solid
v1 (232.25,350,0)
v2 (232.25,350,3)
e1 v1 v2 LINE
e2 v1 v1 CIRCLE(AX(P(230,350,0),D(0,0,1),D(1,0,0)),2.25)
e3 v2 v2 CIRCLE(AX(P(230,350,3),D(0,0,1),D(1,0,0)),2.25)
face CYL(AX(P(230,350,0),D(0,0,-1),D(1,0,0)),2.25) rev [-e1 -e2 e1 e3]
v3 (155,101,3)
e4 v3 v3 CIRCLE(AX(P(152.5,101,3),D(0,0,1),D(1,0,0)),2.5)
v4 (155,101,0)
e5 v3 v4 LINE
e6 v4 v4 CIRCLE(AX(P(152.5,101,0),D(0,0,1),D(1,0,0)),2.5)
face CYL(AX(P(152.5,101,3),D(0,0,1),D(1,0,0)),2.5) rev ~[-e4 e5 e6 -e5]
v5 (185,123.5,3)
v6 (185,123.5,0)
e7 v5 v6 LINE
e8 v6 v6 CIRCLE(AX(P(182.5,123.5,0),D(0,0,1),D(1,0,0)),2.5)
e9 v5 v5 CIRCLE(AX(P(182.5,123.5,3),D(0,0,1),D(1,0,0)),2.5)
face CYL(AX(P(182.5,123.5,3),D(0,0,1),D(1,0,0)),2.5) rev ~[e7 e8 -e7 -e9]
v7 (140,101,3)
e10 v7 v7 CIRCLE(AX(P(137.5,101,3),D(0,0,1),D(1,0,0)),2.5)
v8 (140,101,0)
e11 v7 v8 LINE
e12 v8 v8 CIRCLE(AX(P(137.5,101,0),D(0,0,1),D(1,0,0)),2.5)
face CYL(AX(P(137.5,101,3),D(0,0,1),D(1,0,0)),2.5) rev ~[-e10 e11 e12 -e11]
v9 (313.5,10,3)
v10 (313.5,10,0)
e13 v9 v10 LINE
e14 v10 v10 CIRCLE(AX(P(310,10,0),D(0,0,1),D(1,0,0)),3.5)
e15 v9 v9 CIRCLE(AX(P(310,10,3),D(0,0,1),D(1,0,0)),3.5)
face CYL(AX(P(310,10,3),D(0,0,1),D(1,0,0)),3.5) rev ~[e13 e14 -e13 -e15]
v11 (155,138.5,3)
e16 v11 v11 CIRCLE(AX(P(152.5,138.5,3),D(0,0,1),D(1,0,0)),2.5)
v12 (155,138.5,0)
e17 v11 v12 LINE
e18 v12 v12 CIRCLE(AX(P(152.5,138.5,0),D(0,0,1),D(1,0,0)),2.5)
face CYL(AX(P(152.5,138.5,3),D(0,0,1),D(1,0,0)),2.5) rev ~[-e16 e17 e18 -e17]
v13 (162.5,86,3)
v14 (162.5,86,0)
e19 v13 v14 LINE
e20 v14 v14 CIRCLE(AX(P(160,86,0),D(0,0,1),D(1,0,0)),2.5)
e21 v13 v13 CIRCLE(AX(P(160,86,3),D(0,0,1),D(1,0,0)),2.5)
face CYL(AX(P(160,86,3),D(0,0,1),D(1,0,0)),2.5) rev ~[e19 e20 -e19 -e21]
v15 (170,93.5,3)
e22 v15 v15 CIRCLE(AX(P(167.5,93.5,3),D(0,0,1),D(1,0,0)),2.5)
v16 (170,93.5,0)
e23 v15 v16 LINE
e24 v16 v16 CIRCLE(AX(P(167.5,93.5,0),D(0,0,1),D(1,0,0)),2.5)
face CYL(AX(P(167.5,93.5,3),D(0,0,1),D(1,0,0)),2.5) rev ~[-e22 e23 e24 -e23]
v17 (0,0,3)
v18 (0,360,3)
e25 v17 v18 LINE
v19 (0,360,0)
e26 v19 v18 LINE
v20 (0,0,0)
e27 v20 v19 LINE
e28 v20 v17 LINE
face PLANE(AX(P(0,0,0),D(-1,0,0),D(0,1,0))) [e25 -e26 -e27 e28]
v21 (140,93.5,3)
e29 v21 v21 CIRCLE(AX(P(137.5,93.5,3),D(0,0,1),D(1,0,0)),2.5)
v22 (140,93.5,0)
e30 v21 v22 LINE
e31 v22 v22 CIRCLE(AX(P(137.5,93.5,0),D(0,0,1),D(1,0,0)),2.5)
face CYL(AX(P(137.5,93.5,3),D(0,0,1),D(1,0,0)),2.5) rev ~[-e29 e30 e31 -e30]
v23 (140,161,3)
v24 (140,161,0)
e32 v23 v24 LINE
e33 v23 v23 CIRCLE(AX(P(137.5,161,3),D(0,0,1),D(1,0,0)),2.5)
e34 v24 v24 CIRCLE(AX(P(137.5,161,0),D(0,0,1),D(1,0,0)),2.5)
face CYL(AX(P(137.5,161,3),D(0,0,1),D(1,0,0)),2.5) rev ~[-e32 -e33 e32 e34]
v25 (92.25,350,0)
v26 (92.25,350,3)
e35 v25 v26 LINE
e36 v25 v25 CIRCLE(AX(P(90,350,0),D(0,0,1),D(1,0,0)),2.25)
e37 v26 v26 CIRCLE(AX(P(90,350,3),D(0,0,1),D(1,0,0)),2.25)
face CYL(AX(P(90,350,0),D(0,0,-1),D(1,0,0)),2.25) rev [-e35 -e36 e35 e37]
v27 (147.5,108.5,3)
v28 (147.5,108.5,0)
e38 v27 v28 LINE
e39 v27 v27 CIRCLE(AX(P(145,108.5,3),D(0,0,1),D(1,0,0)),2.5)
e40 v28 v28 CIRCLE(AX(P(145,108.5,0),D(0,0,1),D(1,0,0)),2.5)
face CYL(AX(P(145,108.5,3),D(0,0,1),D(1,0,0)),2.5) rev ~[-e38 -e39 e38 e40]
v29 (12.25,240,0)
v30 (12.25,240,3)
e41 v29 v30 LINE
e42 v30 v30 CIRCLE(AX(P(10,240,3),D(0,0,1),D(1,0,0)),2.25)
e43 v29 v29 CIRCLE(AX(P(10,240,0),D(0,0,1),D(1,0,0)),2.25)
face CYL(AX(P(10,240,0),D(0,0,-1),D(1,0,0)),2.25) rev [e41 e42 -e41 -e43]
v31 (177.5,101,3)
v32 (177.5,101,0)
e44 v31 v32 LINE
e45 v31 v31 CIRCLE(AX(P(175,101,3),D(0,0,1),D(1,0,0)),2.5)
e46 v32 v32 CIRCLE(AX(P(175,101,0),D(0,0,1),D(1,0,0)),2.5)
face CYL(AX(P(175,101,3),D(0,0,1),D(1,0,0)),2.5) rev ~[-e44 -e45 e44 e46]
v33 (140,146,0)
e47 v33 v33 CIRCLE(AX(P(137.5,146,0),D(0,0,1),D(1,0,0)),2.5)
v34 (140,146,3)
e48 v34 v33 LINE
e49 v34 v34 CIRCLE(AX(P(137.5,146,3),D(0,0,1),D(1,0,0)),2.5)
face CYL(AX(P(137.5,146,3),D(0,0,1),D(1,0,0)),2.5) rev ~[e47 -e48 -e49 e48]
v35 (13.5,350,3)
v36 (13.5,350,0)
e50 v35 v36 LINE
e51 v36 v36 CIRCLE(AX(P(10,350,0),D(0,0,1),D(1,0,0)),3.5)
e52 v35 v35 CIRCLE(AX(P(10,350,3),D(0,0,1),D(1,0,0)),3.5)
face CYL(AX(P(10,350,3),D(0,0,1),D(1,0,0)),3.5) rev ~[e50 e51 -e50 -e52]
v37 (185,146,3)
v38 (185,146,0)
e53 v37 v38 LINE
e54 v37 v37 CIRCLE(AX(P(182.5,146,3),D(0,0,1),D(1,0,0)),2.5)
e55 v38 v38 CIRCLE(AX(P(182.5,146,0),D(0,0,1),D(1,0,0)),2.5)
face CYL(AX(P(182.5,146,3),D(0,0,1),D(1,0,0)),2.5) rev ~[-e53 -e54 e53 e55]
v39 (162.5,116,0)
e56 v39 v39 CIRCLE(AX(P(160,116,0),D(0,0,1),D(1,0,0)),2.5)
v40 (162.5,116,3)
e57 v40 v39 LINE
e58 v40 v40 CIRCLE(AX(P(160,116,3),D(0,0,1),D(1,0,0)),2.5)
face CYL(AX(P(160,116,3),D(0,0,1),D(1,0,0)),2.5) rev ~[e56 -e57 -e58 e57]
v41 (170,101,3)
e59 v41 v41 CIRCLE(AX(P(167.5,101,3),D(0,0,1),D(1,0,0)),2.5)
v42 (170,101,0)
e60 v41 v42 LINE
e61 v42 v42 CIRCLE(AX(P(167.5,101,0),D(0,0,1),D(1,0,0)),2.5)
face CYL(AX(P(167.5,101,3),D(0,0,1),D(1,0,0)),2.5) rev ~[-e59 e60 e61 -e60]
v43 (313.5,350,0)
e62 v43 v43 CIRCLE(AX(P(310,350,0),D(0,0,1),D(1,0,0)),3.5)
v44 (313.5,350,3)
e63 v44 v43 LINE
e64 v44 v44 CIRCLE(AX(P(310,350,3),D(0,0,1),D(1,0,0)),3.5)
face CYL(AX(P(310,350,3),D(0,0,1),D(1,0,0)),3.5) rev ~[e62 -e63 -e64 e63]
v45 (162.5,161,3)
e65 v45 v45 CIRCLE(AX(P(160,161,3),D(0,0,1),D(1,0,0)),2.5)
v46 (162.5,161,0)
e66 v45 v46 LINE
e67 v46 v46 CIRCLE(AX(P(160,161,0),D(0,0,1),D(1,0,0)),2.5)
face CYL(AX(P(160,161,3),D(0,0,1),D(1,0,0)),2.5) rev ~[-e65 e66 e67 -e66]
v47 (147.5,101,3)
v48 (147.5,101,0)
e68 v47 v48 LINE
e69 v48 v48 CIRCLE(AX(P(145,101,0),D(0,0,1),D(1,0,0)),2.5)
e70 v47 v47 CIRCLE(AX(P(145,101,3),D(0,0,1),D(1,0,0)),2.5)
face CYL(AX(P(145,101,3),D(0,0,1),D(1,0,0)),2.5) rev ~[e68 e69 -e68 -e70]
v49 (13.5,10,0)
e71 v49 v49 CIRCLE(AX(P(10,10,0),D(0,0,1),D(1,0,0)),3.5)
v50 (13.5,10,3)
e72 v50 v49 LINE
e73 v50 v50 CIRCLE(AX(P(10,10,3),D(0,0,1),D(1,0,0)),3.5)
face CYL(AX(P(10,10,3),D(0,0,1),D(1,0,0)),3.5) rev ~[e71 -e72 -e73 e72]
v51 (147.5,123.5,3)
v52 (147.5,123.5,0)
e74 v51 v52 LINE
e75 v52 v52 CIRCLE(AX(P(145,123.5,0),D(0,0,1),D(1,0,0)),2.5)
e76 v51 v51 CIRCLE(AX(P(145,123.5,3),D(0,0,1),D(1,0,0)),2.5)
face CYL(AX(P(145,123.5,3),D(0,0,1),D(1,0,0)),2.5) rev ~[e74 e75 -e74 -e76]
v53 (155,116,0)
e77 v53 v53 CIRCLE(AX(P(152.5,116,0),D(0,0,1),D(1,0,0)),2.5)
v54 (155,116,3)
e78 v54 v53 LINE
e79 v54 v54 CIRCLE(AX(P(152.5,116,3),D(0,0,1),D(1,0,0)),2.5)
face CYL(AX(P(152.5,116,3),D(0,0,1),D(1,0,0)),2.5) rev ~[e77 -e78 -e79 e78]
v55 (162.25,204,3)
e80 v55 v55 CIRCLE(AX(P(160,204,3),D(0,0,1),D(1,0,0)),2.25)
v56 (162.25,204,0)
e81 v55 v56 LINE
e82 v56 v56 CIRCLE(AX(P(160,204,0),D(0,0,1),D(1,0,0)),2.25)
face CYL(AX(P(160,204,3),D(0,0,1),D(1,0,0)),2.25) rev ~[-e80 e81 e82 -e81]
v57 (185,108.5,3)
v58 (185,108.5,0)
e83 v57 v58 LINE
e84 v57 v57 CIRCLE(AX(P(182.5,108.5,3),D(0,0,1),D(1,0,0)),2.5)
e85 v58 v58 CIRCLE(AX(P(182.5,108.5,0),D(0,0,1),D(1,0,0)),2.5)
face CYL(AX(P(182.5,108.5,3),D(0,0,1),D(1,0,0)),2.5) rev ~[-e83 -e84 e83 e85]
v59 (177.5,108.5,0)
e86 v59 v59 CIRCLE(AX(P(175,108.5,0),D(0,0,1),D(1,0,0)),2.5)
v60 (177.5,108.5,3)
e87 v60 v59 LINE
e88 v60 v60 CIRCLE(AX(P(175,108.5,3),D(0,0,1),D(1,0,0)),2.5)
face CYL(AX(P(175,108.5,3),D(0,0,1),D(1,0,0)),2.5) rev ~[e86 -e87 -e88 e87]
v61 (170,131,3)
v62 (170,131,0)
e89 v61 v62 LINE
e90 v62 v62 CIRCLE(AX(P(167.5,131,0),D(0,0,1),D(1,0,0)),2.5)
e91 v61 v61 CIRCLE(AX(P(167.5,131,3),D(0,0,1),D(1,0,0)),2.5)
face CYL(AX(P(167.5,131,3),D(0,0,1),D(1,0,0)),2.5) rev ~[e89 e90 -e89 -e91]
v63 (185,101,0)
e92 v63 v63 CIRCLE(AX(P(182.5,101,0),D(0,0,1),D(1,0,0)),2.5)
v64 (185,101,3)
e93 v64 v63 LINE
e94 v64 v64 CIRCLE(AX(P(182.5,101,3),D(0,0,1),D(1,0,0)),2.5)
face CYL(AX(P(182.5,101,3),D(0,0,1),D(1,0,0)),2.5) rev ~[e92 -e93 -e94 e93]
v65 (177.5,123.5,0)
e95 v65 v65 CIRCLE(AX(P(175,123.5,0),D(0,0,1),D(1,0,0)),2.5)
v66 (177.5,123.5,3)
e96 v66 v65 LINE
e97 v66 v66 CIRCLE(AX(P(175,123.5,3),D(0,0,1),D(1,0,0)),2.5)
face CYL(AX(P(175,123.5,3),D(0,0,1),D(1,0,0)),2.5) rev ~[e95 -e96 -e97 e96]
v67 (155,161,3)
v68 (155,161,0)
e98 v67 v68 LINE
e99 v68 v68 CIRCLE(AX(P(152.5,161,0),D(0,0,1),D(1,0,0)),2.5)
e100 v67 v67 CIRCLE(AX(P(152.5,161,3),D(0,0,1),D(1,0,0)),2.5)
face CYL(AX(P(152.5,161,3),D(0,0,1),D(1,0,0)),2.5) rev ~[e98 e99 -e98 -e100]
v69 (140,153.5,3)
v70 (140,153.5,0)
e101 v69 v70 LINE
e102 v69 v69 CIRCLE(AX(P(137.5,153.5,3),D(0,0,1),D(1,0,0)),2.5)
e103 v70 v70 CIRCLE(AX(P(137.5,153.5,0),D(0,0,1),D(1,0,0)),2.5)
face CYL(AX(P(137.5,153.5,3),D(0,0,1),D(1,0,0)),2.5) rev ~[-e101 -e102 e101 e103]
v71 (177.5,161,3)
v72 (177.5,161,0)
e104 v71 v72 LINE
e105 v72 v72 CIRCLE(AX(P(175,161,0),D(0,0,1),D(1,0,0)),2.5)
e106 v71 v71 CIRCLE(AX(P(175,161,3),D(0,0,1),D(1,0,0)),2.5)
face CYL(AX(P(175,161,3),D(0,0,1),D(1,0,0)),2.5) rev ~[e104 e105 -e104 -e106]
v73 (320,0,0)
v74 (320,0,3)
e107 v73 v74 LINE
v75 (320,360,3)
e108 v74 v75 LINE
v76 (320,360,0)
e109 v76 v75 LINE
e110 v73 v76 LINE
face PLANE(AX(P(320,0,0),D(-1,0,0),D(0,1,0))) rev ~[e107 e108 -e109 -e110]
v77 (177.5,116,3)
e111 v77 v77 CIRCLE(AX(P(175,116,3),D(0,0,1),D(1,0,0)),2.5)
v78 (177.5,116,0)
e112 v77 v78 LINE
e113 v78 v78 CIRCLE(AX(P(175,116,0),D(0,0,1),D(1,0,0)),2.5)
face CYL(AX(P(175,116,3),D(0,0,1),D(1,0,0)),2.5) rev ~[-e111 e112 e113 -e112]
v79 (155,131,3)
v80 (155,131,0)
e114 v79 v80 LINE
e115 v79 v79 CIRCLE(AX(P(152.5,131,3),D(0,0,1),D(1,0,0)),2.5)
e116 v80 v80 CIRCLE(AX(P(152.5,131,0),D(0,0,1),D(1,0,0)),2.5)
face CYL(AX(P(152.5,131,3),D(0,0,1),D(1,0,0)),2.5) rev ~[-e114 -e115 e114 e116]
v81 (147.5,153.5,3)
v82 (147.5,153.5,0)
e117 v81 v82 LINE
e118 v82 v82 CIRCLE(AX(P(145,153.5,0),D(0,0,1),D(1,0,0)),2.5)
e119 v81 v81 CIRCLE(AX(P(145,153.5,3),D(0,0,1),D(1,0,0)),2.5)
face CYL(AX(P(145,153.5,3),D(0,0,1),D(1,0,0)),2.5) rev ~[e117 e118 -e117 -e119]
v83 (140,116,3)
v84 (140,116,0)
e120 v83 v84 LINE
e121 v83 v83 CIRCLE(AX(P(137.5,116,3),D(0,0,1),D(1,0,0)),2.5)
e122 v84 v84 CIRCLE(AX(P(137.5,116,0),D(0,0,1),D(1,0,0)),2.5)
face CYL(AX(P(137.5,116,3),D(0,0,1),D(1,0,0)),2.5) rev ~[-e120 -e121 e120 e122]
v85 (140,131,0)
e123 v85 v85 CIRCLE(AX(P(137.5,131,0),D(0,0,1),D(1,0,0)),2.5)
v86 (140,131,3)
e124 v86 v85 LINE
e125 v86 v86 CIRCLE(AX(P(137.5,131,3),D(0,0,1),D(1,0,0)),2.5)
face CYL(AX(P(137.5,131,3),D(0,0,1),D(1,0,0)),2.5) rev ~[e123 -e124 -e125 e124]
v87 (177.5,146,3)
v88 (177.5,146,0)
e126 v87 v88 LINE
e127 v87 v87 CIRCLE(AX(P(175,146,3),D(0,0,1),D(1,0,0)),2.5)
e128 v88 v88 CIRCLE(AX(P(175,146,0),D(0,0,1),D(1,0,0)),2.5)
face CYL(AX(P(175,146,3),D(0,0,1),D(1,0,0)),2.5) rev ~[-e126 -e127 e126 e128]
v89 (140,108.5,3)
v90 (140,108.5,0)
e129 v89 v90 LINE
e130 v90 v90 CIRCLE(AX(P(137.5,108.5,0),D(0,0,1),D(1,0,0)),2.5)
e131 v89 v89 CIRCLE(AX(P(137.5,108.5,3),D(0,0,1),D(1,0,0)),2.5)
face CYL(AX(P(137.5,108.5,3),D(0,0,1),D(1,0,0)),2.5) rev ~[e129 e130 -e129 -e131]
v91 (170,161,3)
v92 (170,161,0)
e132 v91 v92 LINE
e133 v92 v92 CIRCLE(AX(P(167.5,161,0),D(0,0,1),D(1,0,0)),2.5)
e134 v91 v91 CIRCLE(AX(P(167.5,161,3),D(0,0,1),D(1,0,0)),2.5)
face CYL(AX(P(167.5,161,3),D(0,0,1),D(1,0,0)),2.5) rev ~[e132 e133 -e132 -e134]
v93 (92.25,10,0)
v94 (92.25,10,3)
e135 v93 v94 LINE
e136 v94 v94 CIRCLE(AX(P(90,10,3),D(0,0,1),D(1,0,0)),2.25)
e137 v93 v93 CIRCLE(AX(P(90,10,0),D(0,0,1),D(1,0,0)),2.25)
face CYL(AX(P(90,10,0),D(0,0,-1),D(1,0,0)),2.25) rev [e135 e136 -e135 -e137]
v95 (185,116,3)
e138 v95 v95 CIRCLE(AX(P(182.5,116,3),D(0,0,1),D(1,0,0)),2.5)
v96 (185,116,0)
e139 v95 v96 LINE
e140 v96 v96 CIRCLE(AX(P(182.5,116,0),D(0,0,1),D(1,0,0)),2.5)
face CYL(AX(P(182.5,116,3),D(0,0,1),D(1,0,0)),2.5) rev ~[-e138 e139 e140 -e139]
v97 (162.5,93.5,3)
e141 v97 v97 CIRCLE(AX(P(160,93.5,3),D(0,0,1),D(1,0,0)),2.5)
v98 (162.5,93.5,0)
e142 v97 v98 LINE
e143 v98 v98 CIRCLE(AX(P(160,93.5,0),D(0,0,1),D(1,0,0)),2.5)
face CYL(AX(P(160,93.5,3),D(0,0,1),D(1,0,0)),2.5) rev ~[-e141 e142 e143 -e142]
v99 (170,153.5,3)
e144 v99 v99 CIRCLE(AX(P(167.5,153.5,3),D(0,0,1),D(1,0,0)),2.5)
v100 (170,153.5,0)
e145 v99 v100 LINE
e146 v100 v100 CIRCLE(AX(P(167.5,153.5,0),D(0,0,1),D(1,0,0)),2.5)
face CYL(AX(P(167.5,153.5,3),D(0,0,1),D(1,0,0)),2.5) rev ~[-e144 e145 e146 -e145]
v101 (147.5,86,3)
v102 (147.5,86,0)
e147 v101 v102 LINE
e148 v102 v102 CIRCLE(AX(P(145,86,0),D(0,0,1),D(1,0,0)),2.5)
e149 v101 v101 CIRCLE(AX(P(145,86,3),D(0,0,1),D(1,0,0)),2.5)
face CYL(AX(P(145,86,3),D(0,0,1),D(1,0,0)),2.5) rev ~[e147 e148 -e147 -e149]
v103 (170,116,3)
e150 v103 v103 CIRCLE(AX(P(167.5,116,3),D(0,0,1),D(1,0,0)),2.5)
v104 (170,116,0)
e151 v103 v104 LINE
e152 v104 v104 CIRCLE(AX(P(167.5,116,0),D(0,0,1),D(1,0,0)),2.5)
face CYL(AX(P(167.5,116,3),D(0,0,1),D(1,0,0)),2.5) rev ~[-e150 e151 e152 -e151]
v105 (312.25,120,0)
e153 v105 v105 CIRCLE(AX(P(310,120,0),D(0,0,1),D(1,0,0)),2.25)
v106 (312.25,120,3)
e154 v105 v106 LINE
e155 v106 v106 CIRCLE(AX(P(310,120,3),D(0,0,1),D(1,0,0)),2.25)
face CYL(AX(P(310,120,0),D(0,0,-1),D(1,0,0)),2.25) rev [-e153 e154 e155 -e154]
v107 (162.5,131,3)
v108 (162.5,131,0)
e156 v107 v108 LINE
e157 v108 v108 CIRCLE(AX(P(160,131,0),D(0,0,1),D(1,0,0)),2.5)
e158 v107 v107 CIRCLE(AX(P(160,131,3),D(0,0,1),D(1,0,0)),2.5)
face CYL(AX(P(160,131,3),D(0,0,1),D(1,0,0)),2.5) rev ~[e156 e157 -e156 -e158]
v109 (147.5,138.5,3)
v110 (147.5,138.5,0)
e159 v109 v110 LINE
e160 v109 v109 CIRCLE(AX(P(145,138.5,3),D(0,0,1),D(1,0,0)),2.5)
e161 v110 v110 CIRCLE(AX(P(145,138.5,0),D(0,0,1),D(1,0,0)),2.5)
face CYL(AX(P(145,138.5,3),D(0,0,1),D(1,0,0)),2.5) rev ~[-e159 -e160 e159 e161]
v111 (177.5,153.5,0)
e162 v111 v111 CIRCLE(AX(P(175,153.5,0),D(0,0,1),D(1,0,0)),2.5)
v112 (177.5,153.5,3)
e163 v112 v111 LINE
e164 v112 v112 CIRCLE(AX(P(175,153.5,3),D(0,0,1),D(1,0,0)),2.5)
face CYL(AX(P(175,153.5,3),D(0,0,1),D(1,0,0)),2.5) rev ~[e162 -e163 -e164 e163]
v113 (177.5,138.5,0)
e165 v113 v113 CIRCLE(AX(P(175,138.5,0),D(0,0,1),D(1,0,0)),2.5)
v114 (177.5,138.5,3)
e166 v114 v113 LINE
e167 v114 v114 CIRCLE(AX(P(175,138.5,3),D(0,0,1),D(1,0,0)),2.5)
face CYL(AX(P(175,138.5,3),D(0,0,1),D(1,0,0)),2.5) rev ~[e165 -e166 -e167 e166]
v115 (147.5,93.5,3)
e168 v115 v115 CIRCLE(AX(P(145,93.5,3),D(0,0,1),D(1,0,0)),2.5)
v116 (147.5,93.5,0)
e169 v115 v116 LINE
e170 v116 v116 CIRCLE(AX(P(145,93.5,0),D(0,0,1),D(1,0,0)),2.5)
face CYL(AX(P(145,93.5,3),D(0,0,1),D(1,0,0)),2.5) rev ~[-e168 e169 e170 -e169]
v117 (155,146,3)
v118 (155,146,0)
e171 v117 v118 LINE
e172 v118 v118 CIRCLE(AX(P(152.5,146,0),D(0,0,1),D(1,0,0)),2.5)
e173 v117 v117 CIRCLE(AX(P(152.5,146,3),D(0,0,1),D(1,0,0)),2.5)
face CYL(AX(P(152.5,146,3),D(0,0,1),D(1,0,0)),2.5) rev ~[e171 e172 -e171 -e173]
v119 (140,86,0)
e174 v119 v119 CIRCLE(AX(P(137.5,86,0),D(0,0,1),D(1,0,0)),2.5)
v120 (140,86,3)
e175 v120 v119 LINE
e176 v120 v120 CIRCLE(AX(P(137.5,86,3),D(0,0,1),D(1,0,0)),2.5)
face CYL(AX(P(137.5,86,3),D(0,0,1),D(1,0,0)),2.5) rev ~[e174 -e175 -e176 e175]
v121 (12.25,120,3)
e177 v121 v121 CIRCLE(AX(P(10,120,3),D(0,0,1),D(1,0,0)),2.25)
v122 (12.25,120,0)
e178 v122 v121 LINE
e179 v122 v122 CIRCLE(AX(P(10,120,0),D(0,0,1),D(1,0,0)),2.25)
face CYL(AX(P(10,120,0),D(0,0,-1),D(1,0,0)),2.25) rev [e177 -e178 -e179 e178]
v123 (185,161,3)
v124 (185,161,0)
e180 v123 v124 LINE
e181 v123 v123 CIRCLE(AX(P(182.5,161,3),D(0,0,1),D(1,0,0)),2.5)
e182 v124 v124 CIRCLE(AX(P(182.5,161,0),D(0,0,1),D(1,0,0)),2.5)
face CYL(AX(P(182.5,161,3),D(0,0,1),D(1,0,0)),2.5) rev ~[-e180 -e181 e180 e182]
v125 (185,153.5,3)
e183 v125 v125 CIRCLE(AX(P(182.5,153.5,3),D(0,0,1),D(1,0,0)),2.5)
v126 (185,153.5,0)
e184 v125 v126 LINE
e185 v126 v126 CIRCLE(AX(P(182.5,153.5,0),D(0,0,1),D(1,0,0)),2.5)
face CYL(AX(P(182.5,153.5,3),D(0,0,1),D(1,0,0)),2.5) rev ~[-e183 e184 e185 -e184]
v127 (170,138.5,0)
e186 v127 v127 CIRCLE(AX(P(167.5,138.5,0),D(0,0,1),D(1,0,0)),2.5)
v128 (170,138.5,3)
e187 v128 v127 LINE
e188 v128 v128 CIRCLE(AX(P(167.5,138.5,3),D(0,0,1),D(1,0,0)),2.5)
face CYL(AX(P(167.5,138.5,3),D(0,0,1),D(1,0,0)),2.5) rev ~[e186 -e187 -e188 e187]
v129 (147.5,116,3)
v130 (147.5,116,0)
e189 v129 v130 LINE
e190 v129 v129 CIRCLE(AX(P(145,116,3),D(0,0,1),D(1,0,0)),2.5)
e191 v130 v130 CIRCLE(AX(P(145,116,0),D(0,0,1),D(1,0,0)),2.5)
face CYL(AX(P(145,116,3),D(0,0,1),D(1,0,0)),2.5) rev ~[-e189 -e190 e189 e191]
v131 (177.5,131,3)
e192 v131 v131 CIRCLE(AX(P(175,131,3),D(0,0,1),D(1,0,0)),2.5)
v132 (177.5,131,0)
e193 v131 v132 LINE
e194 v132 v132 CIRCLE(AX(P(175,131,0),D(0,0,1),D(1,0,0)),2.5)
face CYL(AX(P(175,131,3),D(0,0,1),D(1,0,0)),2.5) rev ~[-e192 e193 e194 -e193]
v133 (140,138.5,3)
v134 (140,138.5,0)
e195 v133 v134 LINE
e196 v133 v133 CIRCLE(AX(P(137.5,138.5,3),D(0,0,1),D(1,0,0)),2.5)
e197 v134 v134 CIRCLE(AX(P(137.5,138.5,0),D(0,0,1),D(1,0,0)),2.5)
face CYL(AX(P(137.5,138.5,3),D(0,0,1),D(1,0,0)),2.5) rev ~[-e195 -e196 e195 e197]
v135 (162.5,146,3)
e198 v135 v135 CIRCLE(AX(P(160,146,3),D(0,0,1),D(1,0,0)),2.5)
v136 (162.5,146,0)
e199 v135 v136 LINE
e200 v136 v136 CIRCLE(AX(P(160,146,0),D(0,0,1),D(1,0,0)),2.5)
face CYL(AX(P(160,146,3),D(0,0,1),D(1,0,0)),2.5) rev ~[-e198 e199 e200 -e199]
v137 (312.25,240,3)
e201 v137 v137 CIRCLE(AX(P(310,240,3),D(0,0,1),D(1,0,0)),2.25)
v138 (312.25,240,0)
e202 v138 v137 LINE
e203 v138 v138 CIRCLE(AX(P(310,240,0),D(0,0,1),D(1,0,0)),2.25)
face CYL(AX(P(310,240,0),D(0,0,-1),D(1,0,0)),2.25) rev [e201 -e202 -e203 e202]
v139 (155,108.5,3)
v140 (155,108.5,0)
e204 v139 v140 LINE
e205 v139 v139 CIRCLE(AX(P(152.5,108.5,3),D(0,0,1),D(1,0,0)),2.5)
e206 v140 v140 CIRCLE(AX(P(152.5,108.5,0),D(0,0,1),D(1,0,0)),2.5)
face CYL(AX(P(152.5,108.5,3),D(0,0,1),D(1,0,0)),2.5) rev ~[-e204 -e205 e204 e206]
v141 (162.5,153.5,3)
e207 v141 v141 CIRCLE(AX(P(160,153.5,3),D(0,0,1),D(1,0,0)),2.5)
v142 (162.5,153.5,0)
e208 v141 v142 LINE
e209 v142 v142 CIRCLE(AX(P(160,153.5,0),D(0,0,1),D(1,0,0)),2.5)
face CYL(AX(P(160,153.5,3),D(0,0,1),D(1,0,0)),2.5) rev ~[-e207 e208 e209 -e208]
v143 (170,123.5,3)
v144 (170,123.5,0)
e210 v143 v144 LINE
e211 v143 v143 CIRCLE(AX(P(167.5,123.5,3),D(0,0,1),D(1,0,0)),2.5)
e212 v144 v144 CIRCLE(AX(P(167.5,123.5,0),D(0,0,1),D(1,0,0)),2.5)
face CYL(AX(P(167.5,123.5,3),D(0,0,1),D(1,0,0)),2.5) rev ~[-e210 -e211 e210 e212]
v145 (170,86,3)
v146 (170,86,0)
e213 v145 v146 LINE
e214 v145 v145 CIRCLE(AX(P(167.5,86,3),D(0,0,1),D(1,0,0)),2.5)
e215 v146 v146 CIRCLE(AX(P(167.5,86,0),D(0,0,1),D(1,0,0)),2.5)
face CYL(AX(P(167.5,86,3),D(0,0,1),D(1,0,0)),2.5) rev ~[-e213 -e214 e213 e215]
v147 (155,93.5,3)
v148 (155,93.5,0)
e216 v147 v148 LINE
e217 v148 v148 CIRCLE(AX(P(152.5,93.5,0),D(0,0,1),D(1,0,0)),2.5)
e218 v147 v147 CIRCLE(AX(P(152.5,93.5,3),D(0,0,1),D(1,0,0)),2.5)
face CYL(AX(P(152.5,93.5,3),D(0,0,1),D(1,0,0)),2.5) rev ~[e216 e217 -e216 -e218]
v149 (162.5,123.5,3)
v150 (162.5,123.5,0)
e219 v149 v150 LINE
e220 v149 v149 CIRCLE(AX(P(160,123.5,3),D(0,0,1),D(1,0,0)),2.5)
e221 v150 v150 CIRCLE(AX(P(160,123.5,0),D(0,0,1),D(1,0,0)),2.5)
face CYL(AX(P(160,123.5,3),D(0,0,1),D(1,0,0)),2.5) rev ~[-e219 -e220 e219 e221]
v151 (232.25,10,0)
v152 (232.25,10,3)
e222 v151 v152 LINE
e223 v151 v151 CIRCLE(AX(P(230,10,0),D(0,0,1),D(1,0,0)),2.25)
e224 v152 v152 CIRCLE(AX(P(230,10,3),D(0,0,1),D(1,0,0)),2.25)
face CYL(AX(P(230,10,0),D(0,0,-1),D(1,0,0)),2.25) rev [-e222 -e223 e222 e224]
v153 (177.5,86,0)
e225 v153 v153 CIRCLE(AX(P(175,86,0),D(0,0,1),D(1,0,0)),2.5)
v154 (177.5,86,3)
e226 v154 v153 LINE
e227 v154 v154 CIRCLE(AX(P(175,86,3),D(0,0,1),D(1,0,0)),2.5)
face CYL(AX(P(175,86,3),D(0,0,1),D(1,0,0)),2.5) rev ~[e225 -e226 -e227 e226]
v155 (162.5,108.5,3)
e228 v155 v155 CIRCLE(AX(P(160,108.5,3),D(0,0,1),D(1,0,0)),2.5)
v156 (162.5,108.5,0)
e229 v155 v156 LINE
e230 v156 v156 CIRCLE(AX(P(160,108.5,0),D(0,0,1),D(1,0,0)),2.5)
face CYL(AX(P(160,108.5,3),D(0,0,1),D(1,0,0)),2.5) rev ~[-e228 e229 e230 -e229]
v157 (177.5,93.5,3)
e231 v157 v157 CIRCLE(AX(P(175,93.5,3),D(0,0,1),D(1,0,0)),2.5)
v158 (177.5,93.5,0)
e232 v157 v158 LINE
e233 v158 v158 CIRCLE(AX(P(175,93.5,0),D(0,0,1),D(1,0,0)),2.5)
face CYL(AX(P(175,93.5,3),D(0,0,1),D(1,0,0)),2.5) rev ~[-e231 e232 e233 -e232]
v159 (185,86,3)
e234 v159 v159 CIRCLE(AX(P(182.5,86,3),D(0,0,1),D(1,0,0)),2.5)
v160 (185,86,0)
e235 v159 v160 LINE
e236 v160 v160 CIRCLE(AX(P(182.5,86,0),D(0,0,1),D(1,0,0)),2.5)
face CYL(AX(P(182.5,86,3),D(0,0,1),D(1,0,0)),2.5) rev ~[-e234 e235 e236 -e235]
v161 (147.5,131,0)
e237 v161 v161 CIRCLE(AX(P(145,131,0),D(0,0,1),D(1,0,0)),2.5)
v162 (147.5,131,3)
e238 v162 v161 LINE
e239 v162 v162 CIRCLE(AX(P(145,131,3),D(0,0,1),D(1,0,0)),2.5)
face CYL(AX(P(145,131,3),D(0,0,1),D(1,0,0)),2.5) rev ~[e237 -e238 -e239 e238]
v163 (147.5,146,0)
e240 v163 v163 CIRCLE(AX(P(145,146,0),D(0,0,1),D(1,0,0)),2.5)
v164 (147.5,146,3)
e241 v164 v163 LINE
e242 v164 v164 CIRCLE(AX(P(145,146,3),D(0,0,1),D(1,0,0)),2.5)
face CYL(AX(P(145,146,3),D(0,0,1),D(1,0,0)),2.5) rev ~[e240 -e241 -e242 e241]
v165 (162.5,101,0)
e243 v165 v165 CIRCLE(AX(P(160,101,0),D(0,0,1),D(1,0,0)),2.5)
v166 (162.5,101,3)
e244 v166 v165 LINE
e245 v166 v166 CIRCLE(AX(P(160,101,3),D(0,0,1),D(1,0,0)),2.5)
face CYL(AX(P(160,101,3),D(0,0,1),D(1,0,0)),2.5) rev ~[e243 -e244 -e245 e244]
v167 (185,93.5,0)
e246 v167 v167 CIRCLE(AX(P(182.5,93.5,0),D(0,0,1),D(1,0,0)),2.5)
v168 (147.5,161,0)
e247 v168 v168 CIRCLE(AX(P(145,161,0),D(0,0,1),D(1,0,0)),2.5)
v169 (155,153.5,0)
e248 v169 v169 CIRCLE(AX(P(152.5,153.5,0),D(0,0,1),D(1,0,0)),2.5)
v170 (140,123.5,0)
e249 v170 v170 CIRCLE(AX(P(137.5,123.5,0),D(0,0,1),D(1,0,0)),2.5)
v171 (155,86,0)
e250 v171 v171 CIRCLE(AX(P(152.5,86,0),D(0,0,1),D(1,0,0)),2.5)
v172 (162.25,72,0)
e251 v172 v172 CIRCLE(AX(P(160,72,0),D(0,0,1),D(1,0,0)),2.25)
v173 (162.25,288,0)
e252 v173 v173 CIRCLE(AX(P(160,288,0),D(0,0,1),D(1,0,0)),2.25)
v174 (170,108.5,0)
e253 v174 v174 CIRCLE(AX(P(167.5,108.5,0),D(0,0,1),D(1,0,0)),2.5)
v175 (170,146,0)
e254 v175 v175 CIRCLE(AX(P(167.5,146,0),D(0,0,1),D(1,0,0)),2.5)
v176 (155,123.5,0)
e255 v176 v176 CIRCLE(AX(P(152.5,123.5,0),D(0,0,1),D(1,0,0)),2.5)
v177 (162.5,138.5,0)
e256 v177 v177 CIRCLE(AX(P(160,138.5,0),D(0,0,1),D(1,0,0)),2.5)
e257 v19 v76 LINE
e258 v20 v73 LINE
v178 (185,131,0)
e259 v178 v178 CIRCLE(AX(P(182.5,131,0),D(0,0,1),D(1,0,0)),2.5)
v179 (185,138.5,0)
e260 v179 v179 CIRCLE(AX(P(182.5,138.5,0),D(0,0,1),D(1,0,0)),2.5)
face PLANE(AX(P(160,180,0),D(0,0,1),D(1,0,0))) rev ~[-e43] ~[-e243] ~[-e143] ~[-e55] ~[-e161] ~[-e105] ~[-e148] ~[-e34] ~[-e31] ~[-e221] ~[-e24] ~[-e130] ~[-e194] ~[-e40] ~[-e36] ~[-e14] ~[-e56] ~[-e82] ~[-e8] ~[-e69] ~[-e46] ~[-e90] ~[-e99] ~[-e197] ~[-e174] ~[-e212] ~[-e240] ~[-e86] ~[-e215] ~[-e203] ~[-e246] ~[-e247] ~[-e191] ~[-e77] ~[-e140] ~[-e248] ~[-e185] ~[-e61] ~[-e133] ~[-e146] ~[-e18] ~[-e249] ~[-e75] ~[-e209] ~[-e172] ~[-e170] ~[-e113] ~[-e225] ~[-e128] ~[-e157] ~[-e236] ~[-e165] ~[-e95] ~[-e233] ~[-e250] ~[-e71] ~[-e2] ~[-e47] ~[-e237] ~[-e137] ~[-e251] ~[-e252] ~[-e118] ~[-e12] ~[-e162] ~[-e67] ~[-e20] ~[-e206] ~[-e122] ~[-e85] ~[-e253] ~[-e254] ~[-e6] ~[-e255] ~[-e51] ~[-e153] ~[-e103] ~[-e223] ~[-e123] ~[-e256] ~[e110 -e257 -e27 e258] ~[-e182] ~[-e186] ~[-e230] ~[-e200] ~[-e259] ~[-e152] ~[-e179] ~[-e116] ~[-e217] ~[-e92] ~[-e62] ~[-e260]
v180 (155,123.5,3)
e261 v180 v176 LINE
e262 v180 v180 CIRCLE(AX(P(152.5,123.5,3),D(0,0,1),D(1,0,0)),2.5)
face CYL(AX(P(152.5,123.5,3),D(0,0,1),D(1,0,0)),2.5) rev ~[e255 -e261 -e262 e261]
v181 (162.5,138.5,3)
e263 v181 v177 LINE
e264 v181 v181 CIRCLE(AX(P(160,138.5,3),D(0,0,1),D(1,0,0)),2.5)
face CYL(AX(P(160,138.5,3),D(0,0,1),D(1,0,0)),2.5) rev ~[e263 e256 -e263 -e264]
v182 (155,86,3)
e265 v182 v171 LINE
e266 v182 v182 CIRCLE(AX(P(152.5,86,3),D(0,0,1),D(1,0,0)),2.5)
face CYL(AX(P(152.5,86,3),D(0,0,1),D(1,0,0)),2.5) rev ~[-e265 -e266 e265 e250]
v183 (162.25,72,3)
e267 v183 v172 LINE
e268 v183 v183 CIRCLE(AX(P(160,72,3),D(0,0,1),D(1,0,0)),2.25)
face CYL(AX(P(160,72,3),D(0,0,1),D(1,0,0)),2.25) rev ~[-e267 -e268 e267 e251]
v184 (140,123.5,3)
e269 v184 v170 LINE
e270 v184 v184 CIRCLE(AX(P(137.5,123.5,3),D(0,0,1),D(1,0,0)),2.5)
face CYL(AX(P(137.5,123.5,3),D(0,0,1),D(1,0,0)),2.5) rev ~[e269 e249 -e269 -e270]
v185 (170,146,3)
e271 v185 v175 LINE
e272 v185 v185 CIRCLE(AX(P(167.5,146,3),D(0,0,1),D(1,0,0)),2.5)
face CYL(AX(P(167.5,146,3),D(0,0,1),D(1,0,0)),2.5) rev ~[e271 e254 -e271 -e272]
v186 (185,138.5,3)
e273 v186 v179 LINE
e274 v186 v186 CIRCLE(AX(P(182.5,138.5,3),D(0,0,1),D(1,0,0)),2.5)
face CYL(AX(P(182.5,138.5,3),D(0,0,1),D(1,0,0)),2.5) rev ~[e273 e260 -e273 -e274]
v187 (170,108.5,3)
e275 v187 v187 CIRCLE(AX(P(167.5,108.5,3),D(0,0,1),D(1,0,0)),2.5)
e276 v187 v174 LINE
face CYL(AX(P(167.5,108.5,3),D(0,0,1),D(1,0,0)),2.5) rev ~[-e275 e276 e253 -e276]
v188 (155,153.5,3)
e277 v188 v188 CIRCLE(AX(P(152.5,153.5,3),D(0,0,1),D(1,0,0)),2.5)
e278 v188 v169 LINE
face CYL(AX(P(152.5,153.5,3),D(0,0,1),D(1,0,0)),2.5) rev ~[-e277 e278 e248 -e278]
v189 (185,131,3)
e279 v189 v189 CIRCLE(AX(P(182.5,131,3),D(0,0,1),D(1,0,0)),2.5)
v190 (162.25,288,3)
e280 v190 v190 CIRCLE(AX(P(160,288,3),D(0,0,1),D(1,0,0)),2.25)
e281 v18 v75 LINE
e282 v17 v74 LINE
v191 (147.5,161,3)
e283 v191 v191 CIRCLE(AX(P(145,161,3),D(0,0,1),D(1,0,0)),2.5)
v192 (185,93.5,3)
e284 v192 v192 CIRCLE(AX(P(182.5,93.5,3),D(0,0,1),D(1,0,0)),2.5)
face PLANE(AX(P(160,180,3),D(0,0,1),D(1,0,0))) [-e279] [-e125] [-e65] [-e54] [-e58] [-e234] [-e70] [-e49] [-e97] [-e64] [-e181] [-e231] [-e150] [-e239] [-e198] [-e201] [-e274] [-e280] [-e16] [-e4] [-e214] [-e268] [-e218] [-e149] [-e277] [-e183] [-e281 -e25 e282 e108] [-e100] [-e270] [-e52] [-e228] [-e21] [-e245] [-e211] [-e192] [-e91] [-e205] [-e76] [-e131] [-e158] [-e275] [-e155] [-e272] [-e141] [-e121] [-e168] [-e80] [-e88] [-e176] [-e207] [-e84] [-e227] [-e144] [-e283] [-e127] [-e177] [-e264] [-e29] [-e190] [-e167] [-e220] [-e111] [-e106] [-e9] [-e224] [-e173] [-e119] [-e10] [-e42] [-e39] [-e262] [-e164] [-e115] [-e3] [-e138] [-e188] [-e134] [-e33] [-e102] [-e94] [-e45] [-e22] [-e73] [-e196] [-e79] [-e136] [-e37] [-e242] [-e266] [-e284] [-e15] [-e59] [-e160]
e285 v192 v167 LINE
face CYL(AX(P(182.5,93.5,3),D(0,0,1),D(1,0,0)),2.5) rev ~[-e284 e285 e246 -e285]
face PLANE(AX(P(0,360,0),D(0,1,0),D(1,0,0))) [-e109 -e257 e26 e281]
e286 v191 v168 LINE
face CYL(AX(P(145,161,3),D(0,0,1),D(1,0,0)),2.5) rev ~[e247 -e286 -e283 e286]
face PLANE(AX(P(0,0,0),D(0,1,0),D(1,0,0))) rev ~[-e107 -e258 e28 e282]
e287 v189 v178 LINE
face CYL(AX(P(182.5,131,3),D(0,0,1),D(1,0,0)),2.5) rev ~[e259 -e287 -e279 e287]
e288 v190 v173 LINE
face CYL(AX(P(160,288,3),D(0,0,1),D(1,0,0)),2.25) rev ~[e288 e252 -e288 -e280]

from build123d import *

# Parameters (mm, degrees)
SKETCH_1_W          = 320
SKETCH_1_H          = 360
SKETCH_1_R          = 2.25
EXTRUDE_1_DEPTH     = 3
SKETCH_2_R          = 3.5
CUT_EXTRUDE_1_DEPTH = 4
SKETCH_4_R          = 2.25
SKETCH_4_R_2        = 2.5
CUT_EXTRUDE_2_DEPTH = 4


with BuildPart() as part:
    # Эскиз1 → Бобышка-Вытянуть1 (new body)
    with BuildSketch(Plane.XY):
        with Locations((160, 180)):
            Rectangle(SKETCH_1_W, SKETCH_1_H)
        with Locations((90, 10)):
            Circle(SKETCH_1_R, mode=Mode.SUBTRACT)
        with Locations((90, 350)):
            Circle(SKETCH_1_R, mode=Mode.SUBTRACT)
        with Locations((230, 350)):
            Circle(SKETCH_1_R, mode=Mode.SUBTRACT)
        with Locations((230, 10)):
            Circle(SKETCH_1_R, mode=Mode.SUBTRACT)
        with Locations((10, 240)):
            Circle(SKETCH_1_R, mode=Mode.SUBTRACT)
        with Locations((10, 120)):
            Circle(SKETCH_1_R, mode=Mode.SUBTRACT)
        with Locations((310, 240)):
            Circle(SKETCH_1_R, mode=Mode.SUBTRACT)
        with Locations((310, 120)):
            Circle(SKETCH_1_R, mode=Mode.SUBTRACT)
    extrude(amount=EXTRUDE_1_DEPTH)

    # Эскиз2 → Вырез-Вытянуть1 (cut, through all)
    with BuildSketch(Plane.XY.offset(3)):
        with Locations((10, 350)):
            Circle(SKETCH_2_R)
        with Locations((310, 350)):
            Circle(SKETCH_2_R)
        with Locations((310, 10)):
            Circle(SKETCH_2_R)
        with Locations((10, 10)):
            Circle(SKETCH_2_R)
    extrude(amount=-CUT_EXTRUDE_1_DEPTH, mode=Mode.SUBTRACT)

    # Эскиз4 → Вырез-Вытянуть2 (cut, through all)
    with BuildSketch(Plane.XY.offset(3)):
        with Locations((160, 288)):
            Circle(SKETCH_4_R)
        with Locations((160, 204)):
            Circle(SKETCH_4_R)
        with Locations((160, 72)):
            Circle(SKETCH_4_R)
        with Locations((137.5, 86)):
            Circle(SKETCH_4_R_2)
        with Locations((145, 86)):
            Circle(SKETCH_4_R_2)
        with Locations((152.5, 86)):
            Circle(SKETCH_4_R_2)
        with Locations((160, 86)):
            Circle(SKETCH_4_R_2)
        with Locations((167.5, 86)):
            Circle(SKETCH_4_R_2)
        with Locations((175, 86)):
            Circle(SKETCH_4_R_2)
        with Locations((182.5, 86)):
            Circle(SKETCH_4_R_2)
        with Locations((137.5, 93.5)):
            Circle(SKETCH_4_R_2)
        with Locations((145, 93.5)):
            Circle(SKETCH_4_R_2)
        with Locations((152.5, 93.5)):
            Circle(SKETCH_4_R_2)
        with Locations((160, 93.5)):
            Circle(SKETCH_4_R_2)
        with Locations((167.5, 93.5)):
            Circle(SKETCH_4_R_2)
        with Locations((175, 93.5)):
            Circle(SKETCH_4_R_2)
        with Locations((182.5, 93.5)):
            Circle(SKETCH_4_R_2)
        with Locations((137.5, 101)):
            Circle(SKETCH_4_R_2)
        with Locations((145, 101)):
            Circle(SKETCH_4_R_2)
        with Locations((152.5, 101)):
            Circle(SKETCH_4_R_2)
        with Locations((160, 101)):
            Circle(SKETCH_4_R_2)
        with Locations((167.5, 101)):
            Circle(SKETCH_4_R_2)
        with Locations((175, 101)):
            Circle(SKETCH_4_R_2)
        with Locations((182.5, 101)):
            Circle(SKETCH_4_R_2)
        with Locations((137.5, 108.5)):
            Circle(SKETCH_4_R_2)
        with Locations((145, 108.5)):
            Circle(SKETCH_4_R_2)
        with Locations((152.5, 108.5)):
            Circle(SKETCH_4_R_2)
        with Locations((160, 108.5)):
            Circle(SKETCH_4_R_2)
        with Locations((167.5, 108.5)):
            Circle(SKETCH_4_R_2)
        with Locations((175, 108.5)):
            Circle(SKETCH_4_R_2)
        with Locations((182.5, 108.5)):
            Circle(SKETCH_4_R_2)
        with Locations((137.5, 116)):
            Circle(SKETCH_4_R_2)
        with Locations((145, 116)):
            Circle(SKETCH_4_R_2)
        with Locations((152.5, 116)):
            Circle(SKETCH_4_R_2)
        with Locations((160, 116)):
            Circle(SKETCH_4_R_2)
        with Locations((167.5, 116)):
            Circle(SKETCH_4_R_2)
        with Locations((175, 116)):
            Circle(SKETCH_4_R_2)
        with Locations((182.5, 116)):
            Circle(SKETCH_4_R_2)
        with Locations((137.5, 123.5)):
            Circle(SKETCH_4_R_2)
        with Locations((145, 123.5)):
            Circle(SKETCH_4_R_2)
        with Locations((152.5, 123.5)):
            Circle(SKETCH_4_R_2)
        with Locations((160, 123.5)):
            Circle(SKETCH_4_R_2)
        with Locations((167.5, 123.5)):
            Circle(SKETCH_4_R_2)
        with Locations((175, 123.5)):
            Circle(SKETCH_4_R_2)
        with Locations((182.5, 123.5)):
            Circle(SKETCH_4_R_2)
        with Locations((137.5, 131)):
            Circle(SKETCH_4_R_2)
        with Locations((145, 131)):
            Circle(SKETCH_4_R_2)
        with Locations((152.5, 131)):
            Circle(SKETCH_4_R_2)
        with Locations((160, 131)):
            Circle(SKETCH_4_R_2)
        with Locations((167.5, 131)):
            Circle(SKETCH_4_R_2)
        with Locations((175, 131)):
            Circle(SKETCH_4_R_2)
        with Locations((182.5, 131)):
            Circle(SKETCH_4_R_2)
        with Locations((137.5, 138.5)):
            Circle(SKETCH_4_R_2)
        with Locations((145, 138.5)):
            Circle(SKETCH_4_R_2)
        with Locations((152.5, 138.5)):
            Circle(SKETCH_4_R_2)
        with Locations((160, 138.5)):
            Circle(SKETCH_4_R_2)
        with Locations((167.5, 138.5)):
            Circle(SKETCH_4_R_2)
        with Locations((175, 138.5)):
            Circle(SKETCH_4_R_2)
        with Locations((182.5, 138.5)):
            Circle(SKETCH_4_R_2)
        with Locations((137.5, 146)):
            Circle(SKETCH_4_R_2)
        with Locations((145, 146)):
            Circle(SKETCH_4_R_2)
        with Locations((152.5, 146)):
            Circle(SKETCH_4_R_2)
        with Locations((160, 146)):
            Circle(SKETCH_4_R_2)
        with Locations((167.5, 146)):
            Circle(SKETCH_4_R_2)
        with Locations((175, 146)):
            Circle(SKETCH_4_R_2)
        with Locations((182.5, 146)):
            Circle(SKETCH_4_R_2)
        with Locations((137.5, 153.5)):
            Circle(SKETCH_4_R_2)
        with Locations((145, 153.5)):
            Circle(SKETCH_4_R_2)
        with Locations((152.5, 153.5)):
            Circle(SKETCH_4_R_2)
        with Locations((160, 153.5)):
            Circle(SKETCH_4_R_2)
        with Locations((167.5, 153.5)):
            Circle(SKETCH_4_R_2)
        with Locations((175, 153.5)):
            Circle(SKETCH_4_R_2)
        with Locations((182.5, 153.5)):
            Circle(SKETCH_4_R_2)
        with Locations((137.5, 161)):
            Circle(SKETCH_4_R_2)
        with Locations((145, 161)):
            Circle(SKETCH_4_R_2)
        with Locations((152.5, 161)):
            Circle(SKETCH_4_R_2)
        with Locations((160, 161)):
            Circle(SKETCH_4_R_2)
        with Locations((167.5, 161)):
            Circle(SKETCH_4_R_2)
        with Locations((175, 161)):
            Circle(SKETCH_4_R_2)
        with Locations((182.5, 161)):
            Circle(SKETCH_4_R_2)
    extrude(amount=-CUT_EXTRUDE_2_DEPTH, mode=Mode.SUBTRACT)


solid = part.part
